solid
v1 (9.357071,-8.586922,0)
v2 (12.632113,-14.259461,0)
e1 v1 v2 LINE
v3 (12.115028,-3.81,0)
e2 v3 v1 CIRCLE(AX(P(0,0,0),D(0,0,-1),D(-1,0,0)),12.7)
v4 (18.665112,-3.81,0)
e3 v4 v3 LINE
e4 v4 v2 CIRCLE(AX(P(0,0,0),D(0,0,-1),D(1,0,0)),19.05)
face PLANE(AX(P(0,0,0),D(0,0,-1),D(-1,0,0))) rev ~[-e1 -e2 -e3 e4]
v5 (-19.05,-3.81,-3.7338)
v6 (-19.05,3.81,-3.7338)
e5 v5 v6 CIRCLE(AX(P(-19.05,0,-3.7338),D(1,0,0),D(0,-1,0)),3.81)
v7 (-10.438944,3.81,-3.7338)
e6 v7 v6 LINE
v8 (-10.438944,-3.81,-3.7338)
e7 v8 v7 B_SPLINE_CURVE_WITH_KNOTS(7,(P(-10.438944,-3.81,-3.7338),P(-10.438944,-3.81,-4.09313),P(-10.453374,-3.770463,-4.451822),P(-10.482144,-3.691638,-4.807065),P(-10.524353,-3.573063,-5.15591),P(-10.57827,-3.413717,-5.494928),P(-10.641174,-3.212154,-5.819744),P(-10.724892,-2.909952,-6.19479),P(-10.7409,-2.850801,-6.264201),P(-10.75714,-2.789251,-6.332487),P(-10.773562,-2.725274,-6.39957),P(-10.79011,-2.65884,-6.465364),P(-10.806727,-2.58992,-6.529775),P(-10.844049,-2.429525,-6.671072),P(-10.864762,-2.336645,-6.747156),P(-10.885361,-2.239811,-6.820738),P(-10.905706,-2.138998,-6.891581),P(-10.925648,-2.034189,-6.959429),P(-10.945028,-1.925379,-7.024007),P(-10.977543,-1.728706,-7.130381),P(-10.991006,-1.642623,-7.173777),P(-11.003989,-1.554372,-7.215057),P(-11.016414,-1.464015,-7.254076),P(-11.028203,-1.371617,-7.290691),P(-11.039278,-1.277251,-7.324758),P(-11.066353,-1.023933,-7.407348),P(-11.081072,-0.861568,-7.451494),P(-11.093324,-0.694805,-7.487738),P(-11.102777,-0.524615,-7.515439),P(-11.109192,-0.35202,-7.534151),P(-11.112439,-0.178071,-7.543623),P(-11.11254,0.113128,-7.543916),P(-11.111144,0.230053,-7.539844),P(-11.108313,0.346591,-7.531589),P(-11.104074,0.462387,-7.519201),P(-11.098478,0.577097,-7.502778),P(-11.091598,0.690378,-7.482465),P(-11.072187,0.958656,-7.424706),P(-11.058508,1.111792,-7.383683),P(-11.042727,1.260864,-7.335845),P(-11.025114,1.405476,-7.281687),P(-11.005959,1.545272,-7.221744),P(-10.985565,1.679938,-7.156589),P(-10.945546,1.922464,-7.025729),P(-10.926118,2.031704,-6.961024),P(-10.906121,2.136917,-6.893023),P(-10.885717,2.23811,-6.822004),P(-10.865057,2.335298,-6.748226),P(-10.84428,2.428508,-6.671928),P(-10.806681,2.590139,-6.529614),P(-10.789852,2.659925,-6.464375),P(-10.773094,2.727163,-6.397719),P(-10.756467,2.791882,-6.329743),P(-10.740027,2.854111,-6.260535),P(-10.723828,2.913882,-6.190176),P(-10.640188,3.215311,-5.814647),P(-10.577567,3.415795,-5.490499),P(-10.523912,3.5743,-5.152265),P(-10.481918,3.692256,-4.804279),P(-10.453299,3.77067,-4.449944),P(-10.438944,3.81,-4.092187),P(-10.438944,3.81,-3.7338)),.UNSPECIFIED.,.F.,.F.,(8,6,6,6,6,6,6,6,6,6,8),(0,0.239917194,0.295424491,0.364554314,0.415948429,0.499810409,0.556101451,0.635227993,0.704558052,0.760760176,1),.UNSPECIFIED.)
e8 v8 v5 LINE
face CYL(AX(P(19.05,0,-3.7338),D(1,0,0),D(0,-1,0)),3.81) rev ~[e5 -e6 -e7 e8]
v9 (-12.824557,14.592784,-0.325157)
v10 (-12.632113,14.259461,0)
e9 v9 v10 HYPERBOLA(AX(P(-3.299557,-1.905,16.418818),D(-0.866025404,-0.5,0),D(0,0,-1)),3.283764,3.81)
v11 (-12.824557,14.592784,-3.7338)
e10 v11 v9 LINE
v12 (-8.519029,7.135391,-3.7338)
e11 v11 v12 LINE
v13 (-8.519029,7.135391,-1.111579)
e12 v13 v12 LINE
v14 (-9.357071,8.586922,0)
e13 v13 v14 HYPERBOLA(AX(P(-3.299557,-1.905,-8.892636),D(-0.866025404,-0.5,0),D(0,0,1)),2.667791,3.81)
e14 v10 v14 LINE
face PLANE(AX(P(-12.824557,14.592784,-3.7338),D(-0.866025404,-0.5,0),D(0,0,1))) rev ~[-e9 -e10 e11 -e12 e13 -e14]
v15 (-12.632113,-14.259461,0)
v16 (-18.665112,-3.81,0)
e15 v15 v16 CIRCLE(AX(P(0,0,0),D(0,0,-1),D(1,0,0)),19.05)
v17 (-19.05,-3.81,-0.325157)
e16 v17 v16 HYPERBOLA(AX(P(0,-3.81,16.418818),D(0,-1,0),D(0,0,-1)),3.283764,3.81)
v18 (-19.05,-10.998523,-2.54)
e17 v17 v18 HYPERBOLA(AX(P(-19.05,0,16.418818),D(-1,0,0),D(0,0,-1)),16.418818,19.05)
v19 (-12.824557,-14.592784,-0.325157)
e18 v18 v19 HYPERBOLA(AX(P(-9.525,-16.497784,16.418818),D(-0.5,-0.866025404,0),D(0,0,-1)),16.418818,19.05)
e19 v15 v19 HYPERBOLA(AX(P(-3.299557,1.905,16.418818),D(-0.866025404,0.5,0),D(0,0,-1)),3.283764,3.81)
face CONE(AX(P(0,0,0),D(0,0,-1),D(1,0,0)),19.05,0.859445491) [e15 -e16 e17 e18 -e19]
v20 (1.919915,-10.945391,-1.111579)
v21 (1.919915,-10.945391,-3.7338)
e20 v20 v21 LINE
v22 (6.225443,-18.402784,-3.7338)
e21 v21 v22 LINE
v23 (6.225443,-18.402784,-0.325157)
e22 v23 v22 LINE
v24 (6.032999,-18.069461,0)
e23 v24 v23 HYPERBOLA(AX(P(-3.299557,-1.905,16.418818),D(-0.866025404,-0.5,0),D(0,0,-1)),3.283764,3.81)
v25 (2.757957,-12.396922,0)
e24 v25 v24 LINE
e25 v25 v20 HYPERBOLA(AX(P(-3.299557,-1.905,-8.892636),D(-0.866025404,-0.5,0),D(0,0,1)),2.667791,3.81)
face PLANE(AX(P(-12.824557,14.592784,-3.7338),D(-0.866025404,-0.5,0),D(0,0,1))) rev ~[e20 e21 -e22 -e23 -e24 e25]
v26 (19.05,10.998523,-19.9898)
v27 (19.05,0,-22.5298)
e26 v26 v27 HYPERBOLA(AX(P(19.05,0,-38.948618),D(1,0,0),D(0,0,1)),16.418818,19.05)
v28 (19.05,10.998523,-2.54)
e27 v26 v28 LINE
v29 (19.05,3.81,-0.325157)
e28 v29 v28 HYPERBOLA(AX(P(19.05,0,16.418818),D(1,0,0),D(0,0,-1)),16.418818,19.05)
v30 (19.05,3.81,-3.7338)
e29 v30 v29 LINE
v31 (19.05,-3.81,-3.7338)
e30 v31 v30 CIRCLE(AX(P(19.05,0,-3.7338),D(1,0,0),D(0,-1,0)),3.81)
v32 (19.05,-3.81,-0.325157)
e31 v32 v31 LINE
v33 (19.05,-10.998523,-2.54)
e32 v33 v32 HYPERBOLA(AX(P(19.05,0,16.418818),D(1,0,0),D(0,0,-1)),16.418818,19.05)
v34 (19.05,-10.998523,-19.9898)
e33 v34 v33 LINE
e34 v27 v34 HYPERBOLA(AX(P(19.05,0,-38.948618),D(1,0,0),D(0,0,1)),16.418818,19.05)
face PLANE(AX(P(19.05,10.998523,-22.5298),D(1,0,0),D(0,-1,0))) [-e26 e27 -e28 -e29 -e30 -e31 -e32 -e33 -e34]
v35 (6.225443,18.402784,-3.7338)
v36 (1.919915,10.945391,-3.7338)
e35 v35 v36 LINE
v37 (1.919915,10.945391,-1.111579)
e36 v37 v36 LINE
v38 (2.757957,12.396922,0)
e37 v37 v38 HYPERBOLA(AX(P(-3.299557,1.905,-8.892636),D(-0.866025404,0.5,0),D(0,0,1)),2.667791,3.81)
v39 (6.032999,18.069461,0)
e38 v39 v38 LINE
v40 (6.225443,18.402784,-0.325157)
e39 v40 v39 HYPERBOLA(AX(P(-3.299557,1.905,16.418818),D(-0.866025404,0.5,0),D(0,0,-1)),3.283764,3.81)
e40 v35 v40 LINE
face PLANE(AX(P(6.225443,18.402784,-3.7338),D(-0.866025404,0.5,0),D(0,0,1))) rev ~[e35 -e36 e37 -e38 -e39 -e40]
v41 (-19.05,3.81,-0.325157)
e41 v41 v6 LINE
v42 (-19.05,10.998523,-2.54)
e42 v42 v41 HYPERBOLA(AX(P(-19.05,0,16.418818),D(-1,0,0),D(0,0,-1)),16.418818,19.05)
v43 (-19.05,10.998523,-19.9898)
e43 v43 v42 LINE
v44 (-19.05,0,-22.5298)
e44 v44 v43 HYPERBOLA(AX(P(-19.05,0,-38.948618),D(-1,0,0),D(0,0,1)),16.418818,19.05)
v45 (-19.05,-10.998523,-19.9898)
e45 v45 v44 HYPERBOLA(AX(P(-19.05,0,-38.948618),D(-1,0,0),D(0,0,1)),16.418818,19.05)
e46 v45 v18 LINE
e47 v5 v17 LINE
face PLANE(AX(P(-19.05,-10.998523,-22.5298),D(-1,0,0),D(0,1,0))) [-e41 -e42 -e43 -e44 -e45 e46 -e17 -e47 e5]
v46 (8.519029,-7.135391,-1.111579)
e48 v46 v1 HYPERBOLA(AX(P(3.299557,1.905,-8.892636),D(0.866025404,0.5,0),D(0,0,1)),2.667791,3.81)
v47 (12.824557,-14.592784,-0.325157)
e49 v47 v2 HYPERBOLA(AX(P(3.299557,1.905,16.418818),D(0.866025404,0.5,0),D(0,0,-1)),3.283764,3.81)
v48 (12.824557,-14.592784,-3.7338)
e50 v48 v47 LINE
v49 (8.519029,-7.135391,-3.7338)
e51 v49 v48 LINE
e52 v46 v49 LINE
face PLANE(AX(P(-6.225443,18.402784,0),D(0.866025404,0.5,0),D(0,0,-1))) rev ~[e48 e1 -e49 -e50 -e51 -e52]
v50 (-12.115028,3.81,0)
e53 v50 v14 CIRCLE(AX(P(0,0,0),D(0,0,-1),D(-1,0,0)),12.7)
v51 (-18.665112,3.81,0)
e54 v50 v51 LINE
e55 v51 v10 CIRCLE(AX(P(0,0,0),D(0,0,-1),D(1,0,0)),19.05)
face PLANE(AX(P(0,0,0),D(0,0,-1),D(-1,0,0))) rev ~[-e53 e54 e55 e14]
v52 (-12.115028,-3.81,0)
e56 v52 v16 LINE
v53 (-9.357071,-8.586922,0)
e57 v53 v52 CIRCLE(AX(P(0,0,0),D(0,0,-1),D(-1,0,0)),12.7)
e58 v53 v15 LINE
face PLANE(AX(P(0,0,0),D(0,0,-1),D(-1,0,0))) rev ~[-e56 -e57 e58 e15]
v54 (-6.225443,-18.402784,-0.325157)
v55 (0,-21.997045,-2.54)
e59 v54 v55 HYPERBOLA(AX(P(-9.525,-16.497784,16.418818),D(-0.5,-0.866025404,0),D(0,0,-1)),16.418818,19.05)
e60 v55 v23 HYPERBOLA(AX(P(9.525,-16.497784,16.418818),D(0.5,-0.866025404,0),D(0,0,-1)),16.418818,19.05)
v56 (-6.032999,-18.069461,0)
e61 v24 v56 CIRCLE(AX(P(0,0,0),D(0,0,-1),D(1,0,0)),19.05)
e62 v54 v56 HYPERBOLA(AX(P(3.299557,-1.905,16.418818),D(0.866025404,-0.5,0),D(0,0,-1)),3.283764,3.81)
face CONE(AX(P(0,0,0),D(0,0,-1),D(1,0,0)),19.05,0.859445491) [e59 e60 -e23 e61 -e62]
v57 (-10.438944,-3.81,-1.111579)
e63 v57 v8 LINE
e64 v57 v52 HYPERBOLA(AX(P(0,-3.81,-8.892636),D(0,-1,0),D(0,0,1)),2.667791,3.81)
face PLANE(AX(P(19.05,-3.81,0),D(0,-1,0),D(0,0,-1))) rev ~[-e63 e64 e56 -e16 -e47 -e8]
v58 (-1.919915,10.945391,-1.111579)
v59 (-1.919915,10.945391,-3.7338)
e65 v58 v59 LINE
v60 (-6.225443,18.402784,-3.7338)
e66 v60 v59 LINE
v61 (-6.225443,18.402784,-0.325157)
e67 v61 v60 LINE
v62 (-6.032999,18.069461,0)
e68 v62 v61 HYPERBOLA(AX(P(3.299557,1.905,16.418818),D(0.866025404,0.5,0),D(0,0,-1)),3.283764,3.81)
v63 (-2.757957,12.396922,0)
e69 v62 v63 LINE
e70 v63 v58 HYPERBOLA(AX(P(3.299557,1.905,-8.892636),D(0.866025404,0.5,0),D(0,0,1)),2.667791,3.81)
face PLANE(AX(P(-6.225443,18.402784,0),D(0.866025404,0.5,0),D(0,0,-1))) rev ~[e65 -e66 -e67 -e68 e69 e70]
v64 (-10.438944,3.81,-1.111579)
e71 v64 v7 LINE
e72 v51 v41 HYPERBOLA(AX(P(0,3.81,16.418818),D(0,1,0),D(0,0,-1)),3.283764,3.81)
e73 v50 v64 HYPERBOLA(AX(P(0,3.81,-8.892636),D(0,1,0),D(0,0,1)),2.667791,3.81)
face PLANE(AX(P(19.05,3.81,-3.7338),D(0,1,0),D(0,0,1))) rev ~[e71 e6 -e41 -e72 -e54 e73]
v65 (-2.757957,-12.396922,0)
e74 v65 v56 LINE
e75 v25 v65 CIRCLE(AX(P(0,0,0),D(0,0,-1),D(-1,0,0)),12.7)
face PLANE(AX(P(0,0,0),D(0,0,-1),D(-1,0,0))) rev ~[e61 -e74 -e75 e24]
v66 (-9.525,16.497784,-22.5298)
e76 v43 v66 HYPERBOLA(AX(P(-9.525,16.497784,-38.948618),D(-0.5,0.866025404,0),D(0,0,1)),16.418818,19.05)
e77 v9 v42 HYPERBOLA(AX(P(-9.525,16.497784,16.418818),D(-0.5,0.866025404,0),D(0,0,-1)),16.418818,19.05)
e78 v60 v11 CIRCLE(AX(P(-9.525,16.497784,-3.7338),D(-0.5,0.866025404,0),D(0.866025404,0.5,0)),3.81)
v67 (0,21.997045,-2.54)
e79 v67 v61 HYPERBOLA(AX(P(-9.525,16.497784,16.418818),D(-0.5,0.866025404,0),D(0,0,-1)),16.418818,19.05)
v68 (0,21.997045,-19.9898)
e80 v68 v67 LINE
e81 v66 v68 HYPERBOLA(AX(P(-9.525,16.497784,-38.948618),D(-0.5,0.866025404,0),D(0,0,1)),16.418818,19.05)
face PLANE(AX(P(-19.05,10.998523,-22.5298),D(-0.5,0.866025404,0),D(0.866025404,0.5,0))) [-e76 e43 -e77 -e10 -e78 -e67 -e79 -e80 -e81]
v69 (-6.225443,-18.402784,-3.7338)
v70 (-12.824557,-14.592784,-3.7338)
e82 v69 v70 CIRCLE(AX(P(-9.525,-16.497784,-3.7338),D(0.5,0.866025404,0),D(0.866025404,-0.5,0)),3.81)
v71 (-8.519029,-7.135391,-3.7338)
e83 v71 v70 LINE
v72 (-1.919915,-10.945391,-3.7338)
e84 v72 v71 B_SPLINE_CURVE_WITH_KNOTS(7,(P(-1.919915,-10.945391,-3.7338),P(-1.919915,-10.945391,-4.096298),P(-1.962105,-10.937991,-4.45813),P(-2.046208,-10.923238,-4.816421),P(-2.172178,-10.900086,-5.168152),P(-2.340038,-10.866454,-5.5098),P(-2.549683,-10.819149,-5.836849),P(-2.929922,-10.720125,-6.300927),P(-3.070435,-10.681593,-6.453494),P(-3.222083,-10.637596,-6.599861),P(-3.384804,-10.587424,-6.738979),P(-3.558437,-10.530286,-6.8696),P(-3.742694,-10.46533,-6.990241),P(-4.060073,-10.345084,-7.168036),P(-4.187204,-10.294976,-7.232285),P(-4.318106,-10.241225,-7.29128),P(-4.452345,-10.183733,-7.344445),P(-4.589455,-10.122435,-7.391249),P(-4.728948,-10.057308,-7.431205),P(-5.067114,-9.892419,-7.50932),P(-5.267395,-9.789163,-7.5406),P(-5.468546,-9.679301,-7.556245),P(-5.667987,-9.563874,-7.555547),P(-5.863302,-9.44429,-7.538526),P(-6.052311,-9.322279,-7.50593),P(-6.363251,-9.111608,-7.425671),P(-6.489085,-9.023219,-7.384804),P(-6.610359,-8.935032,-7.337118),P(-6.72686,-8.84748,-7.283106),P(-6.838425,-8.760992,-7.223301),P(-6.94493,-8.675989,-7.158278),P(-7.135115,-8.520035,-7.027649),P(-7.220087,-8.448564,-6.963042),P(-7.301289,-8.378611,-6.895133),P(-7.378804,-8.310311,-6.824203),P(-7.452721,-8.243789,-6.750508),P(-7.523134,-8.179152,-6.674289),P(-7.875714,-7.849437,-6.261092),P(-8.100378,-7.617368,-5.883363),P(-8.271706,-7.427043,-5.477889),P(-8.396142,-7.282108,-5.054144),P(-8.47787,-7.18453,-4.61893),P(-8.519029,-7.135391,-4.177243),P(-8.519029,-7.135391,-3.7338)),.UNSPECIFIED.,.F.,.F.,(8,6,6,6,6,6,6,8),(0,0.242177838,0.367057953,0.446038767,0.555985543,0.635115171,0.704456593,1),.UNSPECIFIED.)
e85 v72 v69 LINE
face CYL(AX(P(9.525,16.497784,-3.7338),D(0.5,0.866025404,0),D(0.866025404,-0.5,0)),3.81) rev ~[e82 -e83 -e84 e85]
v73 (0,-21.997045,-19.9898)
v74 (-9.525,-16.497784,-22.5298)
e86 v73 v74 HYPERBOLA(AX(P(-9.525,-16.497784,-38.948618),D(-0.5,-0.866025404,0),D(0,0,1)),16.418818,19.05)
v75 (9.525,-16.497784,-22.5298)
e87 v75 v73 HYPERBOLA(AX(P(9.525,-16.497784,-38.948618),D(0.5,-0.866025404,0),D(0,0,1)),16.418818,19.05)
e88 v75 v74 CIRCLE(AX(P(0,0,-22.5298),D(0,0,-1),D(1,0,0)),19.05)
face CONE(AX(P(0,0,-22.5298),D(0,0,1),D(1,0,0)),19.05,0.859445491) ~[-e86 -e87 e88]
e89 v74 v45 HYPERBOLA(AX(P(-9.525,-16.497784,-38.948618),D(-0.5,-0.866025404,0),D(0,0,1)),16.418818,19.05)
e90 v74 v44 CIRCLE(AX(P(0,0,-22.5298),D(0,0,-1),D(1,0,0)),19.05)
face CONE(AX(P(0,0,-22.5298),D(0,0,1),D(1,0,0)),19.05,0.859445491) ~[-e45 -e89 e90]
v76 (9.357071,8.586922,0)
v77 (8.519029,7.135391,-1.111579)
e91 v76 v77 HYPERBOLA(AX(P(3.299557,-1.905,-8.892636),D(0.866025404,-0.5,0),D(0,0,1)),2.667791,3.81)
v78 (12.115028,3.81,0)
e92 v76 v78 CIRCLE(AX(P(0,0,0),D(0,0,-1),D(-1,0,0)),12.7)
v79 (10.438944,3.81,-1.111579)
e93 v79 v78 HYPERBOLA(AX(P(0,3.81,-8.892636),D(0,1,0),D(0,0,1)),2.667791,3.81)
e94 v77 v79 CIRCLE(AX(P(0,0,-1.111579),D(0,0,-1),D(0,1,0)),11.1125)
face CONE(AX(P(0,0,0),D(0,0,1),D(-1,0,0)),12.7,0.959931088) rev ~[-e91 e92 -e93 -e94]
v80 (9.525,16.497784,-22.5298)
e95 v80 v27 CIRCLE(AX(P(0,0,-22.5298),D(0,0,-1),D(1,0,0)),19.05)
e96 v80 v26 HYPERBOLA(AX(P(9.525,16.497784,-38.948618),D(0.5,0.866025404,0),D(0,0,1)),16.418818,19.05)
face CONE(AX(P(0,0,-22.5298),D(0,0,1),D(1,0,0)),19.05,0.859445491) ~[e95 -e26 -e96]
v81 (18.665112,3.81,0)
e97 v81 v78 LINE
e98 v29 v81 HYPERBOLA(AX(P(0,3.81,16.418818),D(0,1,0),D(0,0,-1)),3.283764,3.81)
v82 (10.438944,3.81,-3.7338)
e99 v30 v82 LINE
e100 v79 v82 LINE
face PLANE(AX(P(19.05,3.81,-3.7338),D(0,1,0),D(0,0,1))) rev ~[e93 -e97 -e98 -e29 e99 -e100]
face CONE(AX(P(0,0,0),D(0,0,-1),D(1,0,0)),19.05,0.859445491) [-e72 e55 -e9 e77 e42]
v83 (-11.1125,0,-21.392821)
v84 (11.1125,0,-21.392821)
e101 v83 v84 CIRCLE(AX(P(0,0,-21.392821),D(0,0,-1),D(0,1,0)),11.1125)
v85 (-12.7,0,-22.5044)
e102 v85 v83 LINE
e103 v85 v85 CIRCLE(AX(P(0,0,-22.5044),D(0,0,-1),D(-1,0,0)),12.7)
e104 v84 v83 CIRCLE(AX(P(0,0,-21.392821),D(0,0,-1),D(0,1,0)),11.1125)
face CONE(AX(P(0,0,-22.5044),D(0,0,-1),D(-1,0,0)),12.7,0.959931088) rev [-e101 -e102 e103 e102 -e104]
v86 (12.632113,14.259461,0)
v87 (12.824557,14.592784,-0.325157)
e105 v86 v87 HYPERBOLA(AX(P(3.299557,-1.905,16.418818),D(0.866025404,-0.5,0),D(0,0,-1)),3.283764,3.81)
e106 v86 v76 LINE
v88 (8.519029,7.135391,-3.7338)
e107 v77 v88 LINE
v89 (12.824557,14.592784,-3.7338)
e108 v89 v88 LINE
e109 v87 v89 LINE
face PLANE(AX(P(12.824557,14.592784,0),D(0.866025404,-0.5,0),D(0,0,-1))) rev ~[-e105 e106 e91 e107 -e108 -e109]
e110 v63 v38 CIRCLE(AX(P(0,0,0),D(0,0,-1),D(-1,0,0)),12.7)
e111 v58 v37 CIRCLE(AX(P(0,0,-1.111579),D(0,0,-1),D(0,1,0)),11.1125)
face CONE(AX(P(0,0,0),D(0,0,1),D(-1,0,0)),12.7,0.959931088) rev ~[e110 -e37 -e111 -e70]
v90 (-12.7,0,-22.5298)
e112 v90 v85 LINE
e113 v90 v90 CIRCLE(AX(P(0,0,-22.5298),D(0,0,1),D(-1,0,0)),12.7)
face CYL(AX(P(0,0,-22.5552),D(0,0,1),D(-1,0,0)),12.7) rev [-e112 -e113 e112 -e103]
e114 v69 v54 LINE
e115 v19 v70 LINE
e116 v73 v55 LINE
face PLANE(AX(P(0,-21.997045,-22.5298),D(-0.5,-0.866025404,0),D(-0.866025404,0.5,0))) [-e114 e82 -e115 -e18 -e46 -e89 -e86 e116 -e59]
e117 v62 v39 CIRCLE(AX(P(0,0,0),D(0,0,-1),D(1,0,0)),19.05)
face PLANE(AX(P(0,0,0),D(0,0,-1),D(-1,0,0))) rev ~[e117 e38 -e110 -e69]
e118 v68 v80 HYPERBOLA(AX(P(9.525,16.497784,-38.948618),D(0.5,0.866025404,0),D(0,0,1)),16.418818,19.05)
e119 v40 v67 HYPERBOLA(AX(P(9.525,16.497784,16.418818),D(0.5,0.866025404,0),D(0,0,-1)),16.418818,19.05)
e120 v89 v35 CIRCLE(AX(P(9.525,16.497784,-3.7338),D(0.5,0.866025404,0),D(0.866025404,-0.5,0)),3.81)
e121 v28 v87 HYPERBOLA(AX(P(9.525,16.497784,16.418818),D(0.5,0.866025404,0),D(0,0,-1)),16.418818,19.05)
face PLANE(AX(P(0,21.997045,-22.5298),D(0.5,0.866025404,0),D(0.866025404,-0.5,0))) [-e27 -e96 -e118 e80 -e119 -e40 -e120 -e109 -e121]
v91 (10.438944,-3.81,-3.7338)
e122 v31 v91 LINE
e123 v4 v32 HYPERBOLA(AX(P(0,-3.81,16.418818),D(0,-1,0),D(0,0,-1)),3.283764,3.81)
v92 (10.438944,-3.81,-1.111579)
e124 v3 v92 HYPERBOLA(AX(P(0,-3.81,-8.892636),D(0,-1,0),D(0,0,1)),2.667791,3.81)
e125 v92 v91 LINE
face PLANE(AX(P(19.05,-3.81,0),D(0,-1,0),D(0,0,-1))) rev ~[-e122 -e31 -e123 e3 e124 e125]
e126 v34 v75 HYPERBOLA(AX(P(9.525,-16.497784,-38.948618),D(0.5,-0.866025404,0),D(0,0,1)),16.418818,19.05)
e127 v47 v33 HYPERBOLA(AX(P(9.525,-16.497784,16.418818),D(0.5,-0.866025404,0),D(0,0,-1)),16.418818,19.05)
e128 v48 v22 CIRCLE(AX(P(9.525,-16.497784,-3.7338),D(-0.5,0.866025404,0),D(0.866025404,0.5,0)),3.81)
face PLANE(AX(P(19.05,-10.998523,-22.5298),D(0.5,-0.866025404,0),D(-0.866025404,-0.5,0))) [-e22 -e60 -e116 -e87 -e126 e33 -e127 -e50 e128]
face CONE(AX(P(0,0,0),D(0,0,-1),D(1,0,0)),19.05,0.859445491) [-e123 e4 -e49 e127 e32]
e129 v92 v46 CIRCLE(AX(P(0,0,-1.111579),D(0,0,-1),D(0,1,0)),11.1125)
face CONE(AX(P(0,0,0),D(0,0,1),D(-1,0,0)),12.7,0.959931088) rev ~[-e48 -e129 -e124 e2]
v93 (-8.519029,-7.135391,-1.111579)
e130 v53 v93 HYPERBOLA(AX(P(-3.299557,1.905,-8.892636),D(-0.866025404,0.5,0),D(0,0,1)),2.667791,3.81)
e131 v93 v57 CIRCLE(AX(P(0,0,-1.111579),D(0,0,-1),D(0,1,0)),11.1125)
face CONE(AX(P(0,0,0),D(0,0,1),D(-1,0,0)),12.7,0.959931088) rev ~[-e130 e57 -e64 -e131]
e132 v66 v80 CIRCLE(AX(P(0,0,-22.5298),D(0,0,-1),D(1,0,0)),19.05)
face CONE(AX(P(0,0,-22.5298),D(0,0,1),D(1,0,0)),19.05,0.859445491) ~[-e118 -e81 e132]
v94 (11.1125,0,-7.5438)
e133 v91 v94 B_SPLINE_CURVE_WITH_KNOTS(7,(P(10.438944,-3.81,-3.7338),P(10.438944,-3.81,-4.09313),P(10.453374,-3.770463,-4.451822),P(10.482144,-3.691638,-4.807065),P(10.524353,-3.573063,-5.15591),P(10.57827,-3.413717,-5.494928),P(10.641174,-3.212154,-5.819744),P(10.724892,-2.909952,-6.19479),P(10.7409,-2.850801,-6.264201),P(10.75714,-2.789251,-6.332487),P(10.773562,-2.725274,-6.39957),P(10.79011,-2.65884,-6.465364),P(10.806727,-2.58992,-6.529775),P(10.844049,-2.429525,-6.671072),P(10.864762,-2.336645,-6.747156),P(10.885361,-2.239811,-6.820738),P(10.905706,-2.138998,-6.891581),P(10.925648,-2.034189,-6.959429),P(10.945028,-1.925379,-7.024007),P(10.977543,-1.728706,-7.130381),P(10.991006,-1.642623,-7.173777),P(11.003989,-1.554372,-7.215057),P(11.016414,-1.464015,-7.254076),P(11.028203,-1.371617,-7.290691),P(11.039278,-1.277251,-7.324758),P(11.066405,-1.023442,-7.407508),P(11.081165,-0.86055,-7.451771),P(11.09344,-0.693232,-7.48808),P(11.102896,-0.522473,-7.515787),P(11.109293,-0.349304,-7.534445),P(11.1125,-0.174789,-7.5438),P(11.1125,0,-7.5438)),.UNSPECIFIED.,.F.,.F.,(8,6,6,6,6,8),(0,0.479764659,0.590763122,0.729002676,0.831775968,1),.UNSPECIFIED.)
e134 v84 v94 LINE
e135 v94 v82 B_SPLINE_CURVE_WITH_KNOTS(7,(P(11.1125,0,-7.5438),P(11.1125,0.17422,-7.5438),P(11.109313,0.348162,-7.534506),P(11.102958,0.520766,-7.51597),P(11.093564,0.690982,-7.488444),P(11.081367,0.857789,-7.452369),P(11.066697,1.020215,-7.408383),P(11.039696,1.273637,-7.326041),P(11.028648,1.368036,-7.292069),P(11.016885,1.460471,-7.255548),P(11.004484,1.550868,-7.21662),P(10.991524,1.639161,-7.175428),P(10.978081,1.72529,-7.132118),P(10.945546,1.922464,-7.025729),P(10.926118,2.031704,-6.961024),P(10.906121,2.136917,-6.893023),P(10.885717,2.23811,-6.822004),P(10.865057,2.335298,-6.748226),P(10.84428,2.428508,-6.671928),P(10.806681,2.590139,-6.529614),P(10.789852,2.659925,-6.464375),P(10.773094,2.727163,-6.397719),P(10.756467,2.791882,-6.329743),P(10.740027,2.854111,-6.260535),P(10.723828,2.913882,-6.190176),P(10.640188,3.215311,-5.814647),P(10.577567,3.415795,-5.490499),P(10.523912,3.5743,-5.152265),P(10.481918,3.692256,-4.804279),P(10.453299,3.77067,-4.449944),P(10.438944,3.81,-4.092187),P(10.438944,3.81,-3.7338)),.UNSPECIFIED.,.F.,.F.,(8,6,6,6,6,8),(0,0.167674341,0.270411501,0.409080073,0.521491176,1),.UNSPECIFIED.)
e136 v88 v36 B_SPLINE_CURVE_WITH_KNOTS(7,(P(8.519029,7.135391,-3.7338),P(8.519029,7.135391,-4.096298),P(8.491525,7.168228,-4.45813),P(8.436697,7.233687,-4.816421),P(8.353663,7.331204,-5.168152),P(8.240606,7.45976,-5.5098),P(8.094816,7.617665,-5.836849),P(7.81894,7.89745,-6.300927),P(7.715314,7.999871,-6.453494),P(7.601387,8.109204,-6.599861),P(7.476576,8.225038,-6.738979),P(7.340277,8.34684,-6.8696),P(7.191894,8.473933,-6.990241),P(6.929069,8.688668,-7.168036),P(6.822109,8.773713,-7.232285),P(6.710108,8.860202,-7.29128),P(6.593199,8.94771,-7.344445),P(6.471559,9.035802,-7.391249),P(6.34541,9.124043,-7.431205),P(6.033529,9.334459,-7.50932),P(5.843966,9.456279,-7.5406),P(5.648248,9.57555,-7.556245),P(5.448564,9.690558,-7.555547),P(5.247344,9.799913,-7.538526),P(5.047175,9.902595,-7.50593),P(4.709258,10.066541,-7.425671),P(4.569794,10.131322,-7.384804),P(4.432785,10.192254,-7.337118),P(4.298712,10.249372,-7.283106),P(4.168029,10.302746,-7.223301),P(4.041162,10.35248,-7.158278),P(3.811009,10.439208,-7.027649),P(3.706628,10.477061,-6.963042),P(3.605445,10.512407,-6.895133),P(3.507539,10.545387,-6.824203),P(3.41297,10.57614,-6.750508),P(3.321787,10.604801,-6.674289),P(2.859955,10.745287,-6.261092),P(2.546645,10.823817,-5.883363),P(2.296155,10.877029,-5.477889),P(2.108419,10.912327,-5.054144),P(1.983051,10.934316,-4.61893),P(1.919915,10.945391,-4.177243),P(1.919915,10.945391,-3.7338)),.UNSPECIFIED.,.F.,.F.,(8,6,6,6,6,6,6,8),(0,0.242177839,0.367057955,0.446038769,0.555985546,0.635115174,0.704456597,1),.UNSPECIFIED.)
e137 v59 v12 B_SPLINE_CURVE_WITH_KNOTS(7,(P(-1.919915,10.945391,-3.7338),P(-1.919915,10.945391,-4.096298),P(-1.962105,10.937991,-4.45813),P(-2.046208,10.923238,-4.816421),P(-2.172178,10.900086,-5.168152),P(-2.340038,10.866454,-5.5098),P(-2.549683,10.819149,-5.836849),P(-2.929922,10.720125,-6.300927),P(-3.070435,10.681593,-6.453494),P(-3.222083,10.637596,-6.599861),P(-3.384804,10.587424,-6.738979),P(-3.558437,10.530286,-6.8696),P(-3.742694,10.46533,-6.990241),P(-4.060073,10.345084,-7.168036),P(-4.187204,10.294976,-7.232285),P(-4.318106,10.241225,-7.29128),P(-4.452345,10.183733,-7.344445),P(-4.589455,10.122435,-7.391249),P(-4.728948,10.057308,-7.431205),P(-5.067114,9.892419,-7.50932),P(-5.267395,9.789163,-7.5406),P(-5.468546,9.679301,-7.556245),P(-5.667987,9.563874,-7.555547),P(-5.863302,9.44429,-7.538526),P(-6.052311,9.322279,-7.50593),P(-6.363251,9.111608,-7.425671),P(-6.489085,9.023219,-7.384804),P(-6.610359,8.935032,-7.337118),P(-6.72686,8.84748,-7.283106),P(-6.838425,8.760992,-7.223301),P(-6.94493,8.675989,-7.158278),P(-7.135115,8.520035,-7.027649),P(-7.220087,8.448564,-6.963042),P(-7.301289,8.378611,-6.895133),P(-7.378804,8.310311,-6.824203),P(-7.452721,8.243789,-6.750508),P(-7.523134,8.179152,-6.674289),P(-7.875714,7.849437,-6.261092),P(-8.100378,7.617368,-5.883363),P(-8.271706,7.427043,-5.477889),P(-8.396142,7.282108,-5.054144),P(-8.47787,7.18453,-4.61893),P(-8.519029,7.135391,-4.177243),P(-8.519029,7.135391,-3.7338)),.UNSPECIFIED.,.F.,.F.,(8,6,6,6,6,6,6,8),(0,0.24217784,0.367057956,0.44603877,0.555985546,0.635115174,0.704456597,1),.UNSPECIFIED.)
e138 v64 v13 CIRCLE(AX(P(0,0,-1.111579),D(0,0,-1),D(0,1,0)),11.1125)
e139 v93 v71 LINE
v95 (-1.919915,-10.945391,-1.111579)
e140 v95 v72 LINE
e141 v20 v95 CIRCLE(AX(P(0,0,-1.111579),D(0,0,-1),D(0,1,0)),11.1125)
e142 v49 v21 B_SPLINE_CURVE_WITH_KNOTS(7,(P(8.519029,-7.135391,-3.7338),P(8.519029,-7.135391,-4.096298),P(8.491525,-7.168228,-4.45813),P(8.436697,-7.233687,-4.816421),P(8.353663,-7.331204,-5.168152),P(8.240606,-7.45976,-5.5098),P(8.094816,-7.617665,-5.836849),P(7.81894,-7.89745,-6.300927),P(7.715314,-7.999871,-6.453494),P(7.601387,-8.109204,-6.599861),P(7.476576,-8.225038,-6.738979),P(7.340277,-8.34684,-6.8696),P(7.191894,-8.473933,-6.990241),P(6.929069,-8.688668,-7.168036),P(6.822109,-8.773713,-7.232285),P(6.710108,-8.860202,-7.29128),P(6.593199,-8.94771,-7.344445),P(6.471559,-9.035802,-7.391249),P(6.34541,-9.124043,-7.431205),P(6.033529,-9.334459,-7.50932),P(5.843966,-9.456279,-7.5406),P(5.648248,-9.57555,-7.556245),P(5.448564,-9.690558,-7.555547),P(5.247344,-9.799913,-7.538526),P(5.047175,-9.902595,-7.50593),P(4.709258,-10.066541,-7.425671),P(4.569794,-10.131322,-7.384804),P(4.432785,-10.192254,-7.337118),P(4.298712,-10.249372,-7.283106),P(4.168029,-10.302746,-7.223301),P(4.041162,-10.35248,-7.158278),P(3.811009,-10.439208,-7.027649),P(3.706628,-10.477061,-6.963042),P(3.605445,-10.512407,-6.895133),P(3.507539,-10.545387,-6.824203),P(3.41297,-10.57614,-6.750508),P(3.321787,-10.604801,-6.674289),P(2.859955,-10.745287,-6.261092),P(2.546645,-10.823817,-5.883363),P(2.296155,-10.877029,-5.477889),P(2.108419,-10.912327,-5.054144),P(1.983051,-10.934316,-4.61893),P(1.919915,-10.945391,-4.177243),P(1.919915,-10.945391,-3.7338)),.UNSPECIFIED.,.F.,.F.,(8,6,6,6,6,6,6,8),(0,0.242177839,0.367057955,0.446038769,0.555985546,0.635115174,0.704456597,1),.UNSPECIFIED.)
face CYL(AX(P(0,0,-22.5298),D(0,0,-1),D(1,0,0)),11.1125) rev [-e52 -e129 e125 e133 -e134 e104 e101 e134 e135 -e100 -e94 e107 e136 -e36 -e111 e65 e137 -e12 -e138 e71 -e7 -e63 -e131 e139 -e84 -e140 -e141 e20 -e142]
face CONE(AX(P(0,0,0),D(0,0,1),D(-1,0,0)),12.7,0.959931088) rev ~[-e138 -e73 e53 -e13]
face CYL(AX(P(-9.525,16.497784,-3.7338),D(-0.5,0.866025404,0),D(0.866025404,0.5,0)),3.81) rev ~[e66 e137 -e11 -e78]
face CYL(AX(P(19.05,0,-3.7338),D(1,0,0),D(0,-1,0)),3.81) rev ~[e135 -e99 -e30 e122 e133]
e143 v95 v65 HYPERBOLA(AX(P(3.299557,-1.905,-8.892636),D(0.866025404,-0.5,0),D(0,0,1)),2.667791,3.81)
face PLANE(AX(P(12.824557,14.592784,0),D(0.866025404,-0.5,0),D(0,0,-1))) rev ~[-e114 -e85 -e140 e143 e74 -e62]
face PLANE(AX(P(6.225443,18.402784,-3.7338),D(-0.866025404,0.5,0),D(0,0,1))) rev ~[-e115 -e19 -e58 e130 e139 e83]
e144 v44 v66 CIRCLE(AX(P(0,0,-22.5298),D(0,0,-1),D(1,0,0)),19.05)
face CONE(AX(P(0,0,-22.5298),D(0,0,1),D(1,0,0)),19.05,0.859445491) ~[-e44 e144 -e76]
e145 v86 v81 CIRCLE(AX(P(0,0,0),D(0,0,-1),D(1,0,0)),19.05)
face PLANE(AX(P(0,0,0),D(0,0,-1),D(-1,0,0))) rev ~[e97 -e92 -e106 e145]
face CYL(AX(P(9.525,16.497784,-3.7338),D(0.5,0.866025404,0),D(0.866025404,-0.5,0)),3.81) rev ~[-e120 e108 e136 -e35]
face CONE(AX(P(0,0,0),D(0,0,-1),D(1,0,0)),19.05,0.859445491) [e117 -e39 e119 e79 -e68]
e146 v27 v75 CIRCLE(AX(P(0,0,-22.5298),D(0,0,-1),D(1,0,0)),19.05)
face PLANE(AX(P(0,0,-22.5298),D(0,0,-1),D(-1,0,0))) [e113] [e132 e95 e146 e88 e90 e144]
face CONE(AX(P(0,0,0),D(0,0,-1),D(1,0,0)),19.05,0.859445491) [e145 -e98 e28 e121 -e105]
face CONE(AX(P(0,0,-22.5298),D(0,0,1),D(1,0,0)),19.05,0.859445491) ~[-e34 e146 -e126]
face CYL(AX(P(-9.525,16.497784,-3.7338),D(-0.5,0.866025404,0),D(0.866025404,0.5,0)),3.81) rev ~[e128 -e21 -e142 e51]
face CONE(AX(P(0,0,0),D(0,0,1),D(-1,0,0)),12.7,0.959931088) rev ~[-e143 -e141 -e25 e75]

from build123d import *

# Parameters (mm, degrees)
BASENUT_START     = -22.5298
BASENUTSKE_R      = 11.1125
BASENUT_DEPTH     = 22.5298
SLOT_DEPTH        = 50.427440638
SLOTPATTERN_COUNT = 3
SLOTPATTERN_ANGLE = 120


with BuildPart() as part:
    # BaseNutSke → BaseNut (new body)
    with BuildSketch(Plane.XY.offset(BASENUT_START)):
        Polygon((19.05, 10.998522628), (19.05, -10.998522628), (0, -21.997045256), (-19.05, -10.998522628), (-19.05, 10.998522628), (0, 21.997045256), align=None)
        Circle(BASENUTSKE_R, mode=Mode.SUBTRACT)
    extrude(amount=BASENUT_DEPTH)

    # Sketch4 → Slot (cut, through all)
    with BuildSketch(Plane(origin=(19.05, 0, 0), x_dir=(0, 0, -1), z_dir=(1, 0, 0))):
        with BuildLine():
            Line((3.7338, 3.81), (0, 3.81))
            Line((0, 3.81), (0, -3.81))
            Line((0, -3.81), (3.7338, -3.81))
            ThreePointArc((3.7338, -3.81), (7.5438, 0), (3.7338, 3.81))
        make_face()
    slot = extrude(amount=-SLOT_DEPTH, mode=Mode.SUBTRACT)

    # SlotPattern: Slot ×3 about axis
    slotpattern_axis = Axis((0, 0, 0), (0, 0, 1))
    for i in range(1, SLOTPATTERN_COUNT):
        add(slot.rotate(slotpattern_axis, i * SLOTPATTERN_ANGLE / (SLOTPATTERN_COUNT - 1)), mode=Mode.SUBTRACT)

    # Sketch3 → Double-Chamfer (revolve, cut)
    with BuildSketch(Plane(origin=(0, 0, 0), x_dir=(0, 0, -1), z_dir=(1, 0, 0)), mode=Mode.PRIVATE) as double_chamfer_sk:
        Polygon((22.5298, 19.05), (19.9898, 21.997045256), (19.9898, 34.697045256), (35.2298, 34.697045256), (35.2298, 19.05), align=None)
        Polygon((2.54, 21.997045256), (2.54, 34.697045256), (-12.7, 34.697045256), (-12.7, 19.05), (0, 19.05), align=None)
    revolve(double_chamfer_sk.sketch.rotate(Axis((0, 0, 0), (0, 0, -1)), 90), axis=Axis((0, 0, 0), (0, 0, -1)), mode=Mode.SUBTRACT)

    # EndChamferSketch → EndChamfer (revolve, cut)
    with BuildSketch(Plane(origin=(0, 0, 0), x_dir=(0, 0, -1), z_dir=(1, 0, 0)), mode=Mode.PRIVATE) as endchamfer_sk:
        Polygon((22.5044, 12.7), (21.281662586, 10.95375), (22.5552, 10.95375), (22.5552, 12.7), align=None)
        Polygon((-0.0508, 12.7), (0, 12.7), (1.222737414, 10.95375), (-0.0508, 10.95375), align=None)
    revolve(endchamfer_sk.sketch.rotate(Axis((0, 0, -25.037505729), (0, 0, -1)), 270), axis=Axis((0, 0, -25.037505729), (0, 0, -1)), mode=Mode.SUBTRACT)


solid = part.part
